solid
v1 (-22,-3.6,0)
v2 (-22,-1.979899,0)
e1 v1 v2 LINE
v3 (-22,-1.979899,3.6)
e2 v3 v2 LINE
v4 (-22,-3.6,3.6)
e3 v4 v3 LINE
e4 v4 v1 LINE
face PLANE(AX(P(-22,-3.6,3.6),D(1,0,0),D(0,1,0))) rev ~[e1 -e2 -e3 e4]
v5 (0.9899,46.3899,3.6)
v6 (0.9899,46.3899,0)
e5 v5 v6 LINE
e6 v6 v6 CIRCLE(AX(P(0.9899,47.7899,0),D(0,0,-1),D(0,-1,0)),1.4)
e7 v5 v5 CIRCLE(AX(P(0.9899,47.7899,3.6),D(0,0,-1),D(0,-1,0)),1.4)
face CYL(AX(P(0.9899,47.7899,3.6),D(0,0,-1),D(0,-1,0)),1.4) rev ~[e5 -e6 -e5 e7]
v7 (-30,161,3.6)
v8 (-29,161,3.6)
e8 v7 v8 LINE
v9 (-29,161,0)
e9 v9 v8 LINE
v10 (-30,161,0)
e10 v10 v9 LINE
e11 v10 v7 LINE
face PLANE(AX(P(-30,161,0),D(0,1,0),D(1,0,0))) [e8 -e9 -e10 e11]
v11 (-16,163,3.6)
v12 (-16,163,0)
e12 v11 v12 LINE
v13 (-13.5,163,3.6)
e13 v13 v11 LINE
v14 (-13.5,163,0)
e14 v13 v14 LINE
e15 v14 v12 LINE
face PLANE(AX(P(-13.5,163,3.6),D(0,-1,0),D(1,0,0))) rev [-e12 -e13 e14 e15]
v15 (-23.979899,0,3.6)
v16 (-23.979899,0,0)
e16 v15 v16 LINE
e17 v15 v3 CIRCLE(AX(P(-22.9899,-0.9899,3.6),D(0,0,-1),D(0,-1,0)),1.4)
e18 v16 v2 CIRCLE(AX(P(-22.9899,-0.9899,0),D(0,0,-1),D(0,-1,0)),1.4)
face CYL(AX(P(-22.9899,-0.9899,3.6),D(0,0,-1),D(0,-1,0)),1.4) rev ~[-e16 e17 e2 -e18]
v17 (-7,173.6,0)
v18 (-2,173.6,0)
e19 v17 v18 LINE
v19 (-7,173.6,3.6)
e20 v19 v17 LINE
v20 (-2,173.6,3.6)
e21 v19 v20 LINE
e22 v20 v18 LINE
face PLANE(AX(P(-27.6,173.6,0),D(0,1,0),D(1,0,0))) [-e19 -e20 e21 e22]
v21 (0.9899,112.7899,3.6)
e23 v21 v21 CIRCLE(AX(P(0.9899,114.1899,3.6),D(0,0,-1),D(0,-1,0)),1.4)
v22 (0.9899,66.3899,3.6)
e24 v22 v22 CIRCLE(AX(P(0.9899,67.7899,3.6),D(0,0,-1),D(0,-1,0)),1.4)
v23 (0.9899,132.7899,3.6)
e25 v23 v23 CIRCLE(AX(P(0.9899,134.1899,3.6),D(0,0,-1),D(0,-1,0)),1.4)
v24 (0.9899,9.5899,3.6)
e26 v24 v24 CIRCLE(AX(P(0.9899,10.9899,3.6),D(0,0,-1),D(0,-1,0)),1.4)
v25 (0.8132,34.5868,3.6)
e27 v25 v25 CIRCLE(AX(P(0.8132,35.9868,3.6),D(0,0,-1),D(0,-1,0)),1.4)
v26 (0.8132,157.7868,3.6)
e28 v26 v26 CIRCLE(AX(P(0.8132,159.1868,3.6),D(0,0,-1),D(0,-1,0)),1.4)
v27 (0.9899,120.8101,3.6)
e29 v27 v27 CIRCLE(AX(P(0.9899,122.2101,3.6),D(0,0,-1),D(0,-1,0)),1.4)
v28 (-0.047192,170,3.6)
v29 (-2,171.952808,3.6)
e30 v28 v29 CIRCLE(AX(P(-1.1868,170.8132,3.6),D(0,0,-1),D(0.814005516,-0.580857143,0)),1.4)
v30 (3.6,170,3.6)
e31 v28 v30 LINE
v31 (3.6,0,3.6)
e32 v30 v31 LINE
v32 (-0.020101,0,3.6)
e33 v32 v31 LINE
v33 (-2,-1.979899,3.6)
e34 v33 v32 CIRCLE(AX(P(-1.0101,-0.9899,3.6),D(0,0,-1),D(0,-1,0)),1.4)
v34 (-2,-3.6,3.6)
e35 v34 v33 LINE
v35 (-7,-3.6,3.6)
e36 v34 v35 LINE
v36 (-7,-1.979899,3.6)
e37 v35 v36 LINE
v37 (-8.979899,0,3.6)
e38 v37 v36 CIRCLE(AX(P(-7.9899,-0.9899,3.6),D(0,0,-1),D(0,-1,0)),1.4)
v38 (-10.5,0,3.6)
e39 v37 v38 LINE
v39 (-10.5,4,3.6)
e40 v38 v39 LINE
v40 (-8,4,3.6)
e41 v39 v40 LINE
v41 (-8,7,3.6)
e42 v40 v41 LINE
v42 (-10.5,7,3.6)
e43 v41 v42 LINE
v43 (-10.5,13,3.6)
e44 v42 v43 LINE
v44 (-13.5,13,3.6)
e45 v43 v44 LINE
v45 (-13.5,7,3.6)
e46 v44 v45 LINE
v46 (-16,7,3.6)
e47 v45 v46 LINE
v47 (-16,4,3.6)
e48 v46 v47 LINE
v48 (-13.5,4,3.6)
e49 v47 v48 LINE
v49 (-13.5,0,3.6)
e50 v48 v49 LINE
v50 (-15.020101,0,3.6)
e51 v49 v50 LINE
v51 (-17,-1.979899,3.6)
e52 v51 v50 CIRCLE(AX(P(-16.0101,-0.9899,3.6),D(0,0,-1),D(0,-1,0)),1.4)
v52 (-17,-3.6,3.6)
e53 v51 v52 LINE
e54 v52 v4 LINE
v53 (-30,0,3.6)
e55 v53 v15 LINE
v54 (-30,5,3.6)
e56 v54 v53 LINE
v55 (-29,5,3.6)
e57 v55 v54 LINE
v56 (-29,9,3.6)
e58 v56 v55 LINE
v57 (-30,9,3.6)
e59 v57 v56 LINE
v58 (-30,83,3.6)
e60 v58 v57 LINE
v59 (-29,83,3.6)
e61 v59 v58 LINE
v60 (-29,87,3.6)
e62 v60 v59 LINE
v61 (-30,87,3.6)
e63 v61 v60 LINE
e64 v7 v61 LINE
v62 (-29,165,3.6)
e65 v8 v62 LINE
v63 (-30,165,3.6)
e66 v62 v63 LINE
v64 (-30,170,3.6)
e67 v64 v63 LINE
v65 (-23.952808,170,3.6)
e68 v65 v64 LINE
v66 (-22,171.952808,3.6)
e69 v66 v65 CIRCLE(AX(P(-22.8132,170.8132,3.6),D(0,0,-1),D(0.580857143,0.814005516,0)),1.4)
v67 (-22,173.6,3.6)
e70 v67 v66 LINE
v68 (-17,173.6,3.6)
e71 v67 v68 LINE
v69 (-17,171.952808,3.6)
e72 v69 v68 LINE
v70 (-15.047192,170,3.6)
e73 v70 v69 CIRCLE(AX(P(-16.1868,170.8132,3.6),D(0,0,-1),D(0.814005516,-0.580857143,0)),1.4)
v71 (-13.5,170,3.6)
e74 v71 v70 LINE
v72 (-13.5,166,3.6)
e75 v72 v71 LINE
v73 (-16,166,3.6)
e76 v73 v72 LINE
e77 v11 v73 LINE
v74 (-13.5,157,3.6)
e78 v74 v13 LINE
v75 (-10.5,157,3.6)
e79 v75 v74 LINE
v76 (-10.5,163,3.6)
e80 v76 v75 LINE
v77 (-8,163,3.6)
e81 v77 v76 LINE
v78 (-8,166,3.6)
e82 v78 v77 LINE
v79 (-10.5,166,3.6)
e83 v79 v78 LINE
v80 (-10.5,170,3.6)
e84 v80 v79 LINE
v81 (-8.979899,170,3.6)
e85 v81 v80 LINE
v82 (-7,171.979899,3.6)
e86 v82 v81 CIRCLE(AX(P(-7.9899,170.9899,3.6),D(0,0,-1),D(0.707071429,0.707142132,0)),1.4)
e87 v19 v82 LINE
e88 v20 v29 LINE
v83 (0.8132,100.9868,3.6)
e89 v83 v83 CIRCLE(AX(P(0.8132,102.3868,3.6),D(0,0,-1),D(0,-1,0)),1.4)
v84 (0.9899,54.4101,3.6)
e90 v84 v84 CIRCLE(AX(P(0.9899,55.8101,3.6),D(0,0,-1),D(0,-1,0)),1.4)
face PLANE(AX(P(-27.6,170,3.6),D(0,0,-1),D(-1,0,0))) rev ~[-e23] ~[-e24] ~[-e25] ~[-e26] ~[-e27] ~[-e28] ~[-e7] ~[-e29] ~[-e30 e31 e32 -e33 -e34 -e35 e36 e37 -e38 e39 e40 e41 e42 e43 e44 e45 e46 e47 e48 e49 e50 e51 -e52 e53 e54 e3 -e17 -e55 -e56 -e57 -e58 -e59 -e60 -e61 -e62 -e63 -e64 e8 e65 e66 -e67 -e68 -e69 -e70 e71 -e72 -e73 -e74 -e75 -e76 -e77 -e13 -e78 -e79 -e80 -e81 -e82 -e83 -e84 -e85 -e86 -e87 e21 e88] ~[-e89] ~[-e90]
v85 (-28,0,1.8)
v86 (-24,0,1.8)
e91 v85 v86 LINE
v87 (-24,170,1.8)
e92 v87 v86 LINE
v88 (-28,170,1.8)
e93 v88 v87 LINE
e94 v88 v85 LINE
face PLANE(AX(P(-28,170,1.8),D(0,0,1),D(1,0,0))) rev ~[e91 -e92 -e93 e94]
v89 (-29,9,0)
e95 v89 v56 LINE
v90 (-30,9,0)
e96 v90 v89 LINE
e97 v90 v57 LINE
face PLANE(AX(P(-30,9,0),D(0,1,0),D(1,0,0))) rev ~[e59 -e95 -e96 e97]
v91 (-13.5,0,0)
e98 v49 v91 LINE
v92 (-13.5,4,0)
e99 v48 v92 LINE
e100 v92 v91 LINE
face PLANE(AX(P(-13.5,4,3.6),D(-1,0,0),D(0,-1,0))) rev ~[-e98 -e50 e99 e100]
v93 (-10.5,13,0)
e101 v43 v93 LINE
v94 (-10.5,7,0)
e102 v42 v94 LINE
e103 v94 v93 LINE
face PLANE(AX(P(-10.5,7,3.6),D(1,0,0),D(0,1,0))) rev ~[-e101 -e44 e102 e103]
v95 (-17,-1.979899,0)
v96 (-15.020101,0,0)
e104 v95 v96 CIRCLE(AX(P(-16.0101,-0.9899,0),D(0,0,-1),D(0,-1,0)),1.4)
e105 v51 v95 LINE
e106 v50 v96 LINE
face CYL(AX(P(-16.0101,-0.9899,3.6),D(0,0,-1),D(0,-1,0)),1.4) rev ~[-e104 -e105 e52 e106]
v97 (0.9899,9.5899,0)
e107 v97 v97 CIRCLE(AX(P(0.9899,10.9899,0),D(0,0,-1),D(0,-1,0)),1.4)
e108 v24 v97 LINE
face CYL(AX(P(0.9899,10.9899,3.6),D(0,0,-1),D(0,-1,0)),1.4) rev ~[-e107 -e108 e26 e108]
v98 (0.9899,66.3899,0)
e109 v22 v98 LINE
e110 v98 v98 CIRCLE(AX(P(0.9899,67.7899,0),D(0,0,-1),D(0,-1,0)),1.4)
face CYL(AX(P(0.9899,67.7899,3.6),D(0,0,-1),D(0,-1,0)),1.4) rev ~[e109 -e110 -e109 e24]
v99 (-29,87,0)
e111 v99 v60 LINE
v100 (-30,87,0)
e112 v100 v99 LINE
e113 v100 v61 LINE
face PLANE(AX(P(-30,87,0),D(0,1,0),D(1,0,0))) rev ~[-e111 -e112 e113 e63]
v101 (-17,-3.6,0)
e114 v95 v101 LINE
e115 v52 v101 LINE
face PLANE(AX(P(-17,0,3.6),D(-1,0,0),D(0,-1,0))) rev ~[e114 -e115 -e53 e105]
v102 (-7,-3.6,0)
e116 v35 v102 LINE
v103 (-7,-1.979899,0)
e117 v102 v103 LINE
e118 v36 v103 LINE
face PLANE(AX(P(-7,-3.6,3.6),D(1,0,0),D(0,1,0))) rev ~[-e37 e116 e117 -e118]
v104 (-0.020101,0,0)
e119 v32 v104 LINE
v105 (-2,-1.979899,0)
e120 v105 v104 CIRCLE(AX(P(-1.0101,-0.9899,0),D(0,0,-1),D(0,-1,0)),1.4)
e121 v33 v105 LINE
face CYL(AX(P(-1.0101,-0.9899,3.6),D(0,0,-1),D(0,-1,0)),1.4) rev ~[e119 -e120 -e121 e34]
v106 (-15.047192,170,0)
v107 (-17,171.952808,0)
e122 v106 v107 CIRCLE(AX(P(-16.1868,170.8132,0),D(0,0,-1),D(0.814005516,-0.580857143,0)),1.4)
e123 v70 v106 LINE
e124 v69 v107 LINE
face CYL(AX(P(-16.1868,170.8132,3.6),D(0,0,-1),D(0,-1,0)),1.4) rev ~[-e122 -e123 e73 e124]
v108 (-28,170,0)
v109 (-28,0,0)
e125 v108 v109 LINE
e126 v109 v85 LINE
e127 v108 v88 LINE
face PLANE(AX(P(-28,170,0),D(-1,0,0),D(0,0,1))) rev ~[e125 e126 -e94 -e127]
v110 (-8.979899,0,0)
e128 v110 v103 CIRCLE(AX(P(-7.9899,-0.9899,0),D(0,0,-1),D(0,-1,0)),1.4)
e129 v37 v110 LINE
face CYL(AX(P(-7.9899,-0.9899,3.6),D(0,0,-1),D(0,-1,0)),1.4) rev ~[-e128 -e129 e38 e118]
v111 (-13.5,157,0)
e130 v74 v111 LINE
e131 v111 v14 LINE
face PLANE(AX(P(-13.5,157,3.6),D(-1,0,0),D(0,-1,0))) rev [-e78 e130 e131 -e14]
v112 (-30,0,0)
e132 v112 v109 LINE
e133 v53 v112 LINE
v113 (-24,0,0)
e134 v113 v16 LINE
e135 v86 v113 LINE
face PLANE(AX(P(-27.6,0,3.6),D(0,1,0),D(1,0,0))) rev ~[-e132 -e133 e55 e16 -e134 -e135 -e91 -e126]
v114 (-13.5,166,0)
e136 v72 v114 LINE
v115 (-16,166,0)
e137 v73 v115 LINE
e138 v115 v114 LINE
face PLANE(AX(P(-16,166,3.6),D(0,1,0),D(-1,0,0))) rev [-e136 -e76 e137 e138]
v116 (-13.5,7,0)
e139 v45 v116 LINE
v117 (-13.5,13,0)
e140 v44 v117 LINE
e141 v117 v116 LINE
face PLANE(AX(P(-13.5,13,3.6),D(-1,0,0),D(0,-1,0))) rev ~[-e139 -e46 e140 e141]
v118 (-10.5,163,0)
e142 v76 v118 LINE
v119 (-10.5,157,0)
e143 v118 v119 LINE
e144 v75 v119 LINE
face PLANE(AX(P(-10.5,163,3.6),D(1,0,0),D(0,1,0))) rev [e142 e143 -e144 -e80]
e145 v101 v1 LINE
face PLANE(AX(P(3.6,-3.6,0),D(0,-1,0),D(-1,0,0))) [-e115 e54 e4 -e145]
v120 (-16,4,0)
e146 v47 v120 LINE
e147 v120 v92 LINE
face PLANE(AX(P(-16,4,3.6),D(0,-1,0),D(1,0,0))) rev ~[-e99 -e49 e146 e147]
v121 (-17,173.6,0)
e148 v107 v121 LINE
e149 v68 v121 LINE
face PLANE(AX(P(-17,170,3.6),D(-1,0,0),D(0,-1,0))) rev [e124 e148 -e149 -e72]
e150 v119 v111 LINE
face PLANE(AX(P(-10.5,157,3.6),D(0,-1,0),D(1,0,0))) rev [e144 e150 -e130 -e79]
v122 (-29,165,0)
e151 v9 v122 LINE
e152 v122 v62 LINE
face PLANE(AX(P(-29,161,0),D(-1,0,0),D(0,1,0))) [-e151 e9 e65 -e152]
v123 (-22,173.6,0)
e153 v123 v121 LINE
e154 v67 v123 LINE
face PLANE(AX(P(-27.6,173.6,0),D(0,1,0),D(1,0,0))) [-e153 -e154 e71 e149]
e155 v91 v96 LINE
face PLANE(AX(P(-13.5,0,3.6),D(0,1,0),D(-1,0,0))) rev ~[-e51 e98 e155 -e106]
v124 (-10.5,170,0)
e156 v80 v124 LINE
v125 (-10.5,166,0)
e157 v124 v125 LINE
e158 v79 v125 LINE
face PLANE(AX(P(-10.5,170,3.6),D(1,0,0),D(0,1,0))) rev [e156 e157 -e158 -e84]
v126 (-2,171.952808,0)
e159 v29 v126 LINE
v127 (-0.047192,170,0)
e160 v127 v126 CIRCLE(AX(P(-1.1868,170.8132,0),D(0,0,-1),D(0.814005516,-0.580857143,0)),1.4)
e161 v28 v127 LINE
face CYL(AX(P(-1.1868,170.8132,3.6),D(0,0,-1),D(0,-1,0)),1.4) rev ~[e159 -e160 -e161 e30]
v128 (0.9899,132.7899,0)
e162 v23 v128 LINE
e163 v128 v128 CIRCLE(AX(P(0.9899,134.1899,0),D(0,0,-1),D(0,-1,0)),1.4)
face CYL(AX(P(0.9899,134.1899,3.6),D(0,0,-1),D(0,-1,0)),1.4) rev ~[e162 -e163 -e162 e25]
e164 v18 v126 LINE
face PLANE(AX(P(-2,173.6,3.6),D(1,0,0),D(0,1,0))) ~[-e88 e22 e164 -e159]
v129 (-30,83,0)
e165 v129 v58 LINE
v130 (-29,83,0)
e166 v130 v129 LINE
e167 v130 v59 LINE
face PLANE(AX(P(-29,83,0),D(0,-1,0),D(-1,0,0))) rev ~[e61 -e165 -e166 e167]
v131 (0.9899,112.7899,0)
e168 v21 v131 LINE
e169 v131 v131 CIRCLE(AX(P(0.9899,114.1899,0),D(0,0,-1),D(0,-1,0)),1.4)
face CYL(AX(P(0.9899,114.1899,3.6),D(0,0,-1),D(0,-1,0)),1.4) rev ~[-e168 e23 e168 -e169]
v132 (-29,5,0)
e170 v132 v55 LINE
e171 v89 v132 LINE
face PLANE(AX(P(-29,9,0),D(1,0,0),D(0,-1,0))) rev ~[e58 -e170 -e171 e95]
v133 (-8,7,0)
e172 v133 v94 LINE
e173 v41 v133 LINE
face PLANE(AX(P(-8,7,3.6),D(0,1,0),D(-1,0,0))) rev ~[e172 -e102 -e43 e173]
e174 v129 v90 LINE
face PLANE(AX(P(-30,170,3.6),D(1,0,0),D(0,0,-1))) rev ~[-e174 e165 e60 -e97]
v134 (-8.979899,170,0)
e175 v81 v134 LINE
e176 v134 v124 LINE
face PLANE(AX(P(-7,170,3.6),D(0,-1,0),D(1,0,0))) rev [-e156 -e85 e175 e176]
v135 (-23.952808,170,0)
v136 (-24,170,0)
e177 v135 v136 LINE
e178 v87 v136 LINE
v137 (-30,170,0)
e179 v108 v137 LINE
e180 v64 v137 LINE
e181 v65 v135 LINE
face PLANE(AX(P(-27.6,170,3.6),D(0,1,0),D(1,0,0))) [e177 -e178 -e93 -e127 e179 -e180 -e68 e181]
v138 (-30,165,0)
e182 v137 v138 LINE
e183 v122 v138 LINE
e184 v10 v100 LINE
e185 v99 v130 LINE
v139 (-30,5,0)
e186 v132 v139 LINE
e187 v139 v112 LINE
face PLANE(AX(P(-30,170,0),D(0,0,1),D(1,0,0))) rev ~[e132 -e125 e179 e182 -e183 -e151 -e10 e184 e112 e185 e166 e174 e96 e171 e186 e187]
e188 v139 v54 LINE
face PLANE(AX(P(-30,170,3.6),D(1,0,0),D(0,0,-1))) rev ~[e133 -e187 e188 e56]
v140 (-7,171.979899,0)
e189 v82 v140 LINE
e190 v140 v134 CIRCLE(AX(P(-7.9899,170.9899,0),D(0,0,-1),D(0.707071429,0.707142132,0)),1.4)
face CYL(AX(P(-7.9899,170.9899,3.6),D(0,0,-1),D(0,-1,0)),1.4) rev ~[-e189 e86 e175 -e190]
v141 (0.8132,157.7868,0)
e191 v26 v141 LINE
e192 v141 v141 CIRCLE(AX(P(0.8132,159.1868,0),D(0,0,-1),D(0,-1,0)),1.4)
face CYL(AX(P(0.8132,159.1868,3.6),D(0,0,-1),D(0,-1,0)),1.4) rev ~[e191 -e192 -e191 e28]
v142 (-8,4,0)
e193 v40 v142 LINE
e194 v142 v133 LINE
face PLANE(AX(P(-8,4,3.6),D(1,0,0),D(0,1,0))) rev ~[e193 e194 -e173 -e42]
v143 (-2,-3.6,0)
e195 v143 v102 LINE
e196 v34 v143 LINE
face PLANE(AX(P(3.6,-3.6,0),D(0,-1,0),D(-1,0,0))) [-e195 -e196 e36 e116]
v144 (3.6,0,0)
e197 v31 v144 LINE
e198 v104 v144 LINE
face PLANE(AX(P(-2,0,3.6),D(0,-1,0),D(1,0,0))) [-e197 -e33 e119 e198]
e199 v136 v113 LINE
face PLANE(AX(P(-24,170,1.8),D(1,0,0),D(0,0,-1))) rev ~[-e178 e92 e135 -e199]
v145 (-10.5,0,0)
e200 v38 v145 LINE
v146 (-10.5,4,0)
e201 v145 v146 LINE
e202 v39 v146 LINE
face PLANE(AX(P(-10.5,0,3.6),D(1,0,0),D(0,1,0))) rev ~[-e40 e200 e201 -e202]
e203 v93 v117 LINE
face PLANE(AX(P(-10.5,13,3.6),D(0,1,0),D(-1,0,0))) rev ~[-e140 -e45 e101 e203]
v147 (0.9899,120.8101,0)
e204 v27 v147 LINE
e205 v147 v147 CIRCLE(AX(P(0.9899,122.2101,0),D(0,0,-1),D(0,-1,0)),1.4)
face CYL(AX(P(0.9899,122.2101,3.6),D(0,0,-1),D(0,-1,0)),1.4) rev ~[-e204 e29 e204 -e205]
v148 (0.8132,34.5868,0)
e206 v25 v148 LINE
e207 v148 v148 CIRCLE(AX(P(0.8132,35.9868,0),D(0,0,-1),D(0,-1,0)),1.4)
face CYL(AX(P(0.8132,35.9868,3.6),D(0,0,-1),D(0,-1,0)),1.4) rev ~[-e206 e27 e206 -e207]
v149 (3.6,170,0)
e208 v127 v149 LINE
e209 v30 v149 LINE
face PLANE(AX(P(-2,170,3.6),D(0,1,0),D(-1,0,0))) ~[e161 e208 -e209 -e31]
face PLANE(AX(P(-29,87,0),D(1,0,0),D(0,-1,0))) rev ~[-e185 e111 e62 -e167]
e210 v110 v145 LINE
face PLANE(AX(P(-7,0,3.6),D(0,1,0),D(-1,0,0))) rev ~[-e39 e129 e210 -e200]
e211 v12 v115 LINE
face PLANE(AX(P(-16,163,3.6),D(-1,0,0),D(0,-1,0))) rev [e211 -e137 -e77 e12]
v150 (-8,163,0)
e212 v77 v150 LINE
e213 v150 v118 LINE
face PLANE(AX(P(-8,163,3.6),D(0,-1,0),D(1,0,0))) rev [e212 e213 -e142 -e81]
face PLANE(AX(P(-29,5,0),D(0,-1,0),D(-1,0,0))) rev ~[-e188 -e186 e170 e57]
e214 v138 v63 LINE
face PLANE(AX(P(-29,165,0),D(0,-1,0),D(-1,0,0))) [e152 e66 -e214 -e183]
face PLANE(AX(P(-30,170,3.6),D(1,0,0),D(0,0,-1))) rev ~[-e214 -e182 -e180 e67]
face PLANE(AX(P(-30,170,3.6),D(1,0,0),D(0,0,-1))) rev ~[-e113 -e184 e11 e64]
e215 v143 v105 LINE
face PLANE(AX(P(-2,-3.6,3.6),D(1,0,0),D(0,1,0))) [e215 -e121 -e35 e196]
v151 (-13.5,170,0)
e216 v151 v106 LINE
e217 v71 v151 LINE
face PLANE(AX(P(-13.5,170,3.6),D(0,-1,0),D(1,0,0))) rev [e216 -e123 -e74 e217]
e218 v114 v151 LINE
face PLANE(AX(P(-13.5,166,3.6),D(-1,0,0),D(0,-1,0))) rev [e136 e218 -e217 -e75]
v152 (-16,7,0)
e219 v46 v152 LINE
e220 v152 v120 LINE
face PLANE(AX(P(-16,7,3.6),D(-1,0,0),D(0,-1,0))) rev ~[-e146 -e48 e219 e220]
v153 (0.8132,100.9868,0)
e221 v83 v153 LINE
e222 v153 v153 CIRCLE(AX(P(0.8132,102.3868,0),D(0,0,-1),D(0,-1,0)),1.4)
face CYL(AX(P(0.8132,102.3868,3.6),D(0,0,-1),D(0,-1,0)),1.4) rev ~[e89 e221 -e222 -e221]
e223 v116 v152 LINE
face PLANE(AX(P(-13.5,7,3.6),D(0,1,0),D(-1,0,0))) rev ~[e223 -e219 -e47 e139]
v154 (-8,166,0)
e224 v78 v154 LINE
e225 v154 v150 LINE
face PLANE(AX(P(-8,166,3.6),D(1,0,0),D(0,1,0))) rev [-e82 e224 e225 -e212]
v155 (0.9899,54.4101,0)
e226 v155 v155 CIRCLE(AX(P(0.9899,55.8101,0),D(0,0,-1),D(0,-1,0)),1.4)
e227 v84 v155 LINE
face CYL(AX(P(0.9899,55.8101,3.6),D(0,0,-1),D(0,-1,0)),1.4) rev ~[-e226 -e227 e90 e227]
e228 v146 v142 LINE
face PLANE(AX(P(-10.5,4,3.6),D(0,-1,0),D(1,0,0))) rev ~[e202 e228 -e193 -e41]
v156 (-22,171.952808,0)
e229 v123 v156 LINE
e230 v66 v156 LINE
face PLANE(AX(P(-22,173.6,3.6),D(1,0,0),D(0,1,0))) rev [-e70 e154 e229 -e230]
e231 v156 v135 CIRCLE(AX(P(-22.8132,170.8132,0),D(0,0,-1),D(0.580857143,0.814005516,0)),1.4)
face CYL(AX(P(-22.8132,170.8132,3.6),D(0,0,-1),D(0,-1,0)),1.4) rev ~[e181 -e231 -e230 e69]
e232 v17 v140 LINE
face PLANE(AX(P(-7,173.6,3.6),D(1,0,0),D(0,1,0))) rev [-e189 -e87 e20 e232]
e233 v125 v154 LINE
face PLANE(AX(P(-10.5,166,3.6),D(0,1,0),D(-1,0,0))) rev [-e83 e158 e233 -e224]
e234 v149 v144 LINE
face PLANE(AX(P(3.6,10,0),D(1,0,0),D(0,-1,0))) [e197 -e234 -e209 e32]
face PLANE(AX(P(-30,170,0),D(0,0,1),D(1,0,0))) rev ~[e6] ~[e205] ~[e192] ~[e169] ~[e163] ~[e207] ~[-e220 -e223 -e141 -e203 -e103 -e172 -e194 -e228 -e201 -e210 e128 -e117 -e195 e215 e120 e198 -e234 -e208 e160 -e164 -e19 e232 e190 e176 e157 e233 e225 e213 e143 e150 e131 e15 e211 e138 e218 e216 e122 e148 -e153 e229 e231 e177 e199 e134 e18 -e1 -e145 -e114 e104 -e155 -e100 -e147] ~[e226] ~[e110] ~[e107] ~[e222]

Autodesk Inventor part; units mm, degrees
ref_plane "YZ Plane" through (0, 0, 0) normal (1, 0, 0) x (0, 1, 0)
ref_plane "XZ Plane" through (0, 0, 0) normal (0, 1, 0) x (-1, 0, 0)
ref_plane "XY Plane" through (0, 0, 0) normal (0, 0, 1) x (1, 0, 0)
ref_plane "Work Plane1" through (0, 0, 0) normal (0, 0, 1) x (1, 0, 0)
sketch "Sketch1" plane through (0, 0, 0) normal (0, 0, 1) x (1, 0, 0)
  line L0 (0, 0) -> (0, 170) projected
  line L1 (0, 170) -> (-24, 170) projected
  line L2 (-24, 0) -> (-24, 170) projected
  line L3 (0, 0) -> (-24, 0) projected
  line L4 (-27.6, 173.6) -> (3.6, 173.6)
  line L5 (3.6, 173.6) -> (3.6, -3.6)
  line L6 (3.6, -3.6) -> (-27.6, -3.6)
  line L7 (-27.6, -3.6) -> (-27.6, 173.6)
  line L8 (3.6, 10) -> (3.6, -1.8) projected
  line L9 (0, 10) -> (3.6, 10) projected
  line L10 (0, 0) -> (0, 10) projected
  line L11 (0, -1.8) -> (3.6, -1.8) projected
  line L12 (3.6, 46.8) -> (3.6, 36.8) projected
  line L13 (0, 36.8) -> (0, 46.8) projected
  line L14 (3.6, 66.8) -> (3.6, 56.8) projected
  line L15 (0, 56.8) -> (0, 66.8) projected
  line L16 (3.6, 113.2) -> (3.6, 103.2) projected
  line L17 (0, 103.2) -> (0, 113.2) projected
  line L18 (3.6, 133.2) -> (3.6, 123.2) projected
  line L19 (0, 123.2) -> (0, 133.2) projected
  line L20 (3.6, 170) -> (3.6, 160)
  line L21 (0, 170) -> (3.6, 170)
  line L22 (0, 160) -> (0, 170)
  line L23 (0, 160) -> (3.6, 160)
  line L24 (0, 46.8) -> (3.6, 46.8) projected
  line L25 (0, 36.8) -> (3.6, 36.8) projected
  line L26 (0, 66.8) -> (3.6, 66.8) projected
  line L27 (0, 56.8) -> (3.6, 56.8) projected
  line L28 (0, 113.2) -> (3.6, 113.2) projected
  line L29 (0, 103.2) -> (3.6, 103.2) projected
  line L30 (0, 133.2) -> (3.6, 133.2) projected
  line L31 (0, 123.2) -> (3.6, 123.2) projected
  point P0 (3.6, 131.2201)
  point P1 (3.6, 125.1799)
  point P2 (0, 125.1799)
  point P3 (0, 131.2201)
  dimension "d0" = 3.6
extrude "Extrusion1" add sketch "Sketch1" along normal blind 3.6
sketch "Sketch2" plane through (0, 0, 3.6) normal (0, 0, 1) x (1, 0, 0)
  line L0 (3.6, -3.6) -> (3.6, 173.6) projected
  line L1 (3.6, 173.6) -> (-27.6, 173.6) projected
  line L2 (-27.6, 173.6) -> (-27.6, -3.6) projected
  line L3 (-27.6, -3.6) -> (3.6, -3.6) projected
  line L4 (-17, -3.6) -> (-7, -3.6)
  line L5 (-7, -3.6) -> (-7, 0)
  line L6 (-7, 0) -> (-17, 0)
  line L7 (-17, 0) -> (-17, -3.6)
  line L8 (-17, -3.6) -> (-22, -3.6)
  line L9 (-22, -3.6) -> (-22, 0)
  line L10 (-22, 0) -> (-17, 0)
  line L11 (-17, 0) -> (-17, -3.6)
  line L12 (-7, -3.6) -> (-2, -3.6)
  line L13 (-2, -3.6) -> (-2, 0)
  line L14 (-2, 0) -> (-7, 0)
  line L15 (-7, 0) -> (-7, -3.6)
  line L16 (-22, 0) -> (-27.6, 0)
  line L17 (-27.6, 0) -> (-27.6, -3.6)
  line L18 (-27.6, -3.6) -> (-22, -3.6)
  line L19 (-22, -3.6) -> (-22, 0)
  line L20 (-27.6, -3.6) -> (3.6, -3.6) projected
  line L21 (-2, 0) -> (3.6, 0)
  line L22 (3.6, 0) -> (3.6, -3.6)
  line L23 (3.6, -3.6) -> (-2, -3.6)
  line L24 (-2, -3.6) -> (-2, 0)
  line L25 (-13.5, -13) -> (-10.5, -13)
  line L26 (-10.5, -13) -> (-10.5, 13)
  line L27 (-10.5, 13) -> (-13.5, 13)
  line L28 (-13.5, 13) -> (-13.5, -13)
  line L29 (-13.5, -13) -> (-10.5, 13) construction
  line L30 (-10.5, -13) -> (-13.5, 13) construction
  line L31 (-16, 4) -> (-8, 4)
  line L32 (-8, 4) -> (-8, 7)
  line L33 (-8, 7) -> (-16, 7)
  line L34 (-16, 7) -> (-16, 4)
  line L35 (-16, 4) -> (-8, 7) construction
  line L36 (-8, 4) -> (-16, 7) construction
  line L37 (-12, 13) -> (-12, 0) construction
  point P0 (0, 0)
  point P1 (-12, 5.5)
  point P2 (-12, 5.5)
  point P3 (-13.5, 4)
  point P4 (-13.5, 0)
  point P5 (-10.5, 0)
  point P6 (-10.5, 4)
  point P7 (-10.5, 7)
  point P8 (-13.5, 7)
  dimension "d3" = 10
  dimension "d4" = 3.6
  dimension "d5" = 10.6
  dimension "d7" = 5
  dimension "d8" = 5
  dimension "d9" = 3
  dimension "d10" = 26
  dimension "d11" = 8
  dimension "d12" = 3
  dimension "d14" = 4
extrude "Extrusion2" cut sketch "Sketch2" against normal blind 3.6 contours L3 L13 L21 L0 | L3 L26 L6 L5 | L3 L28 L6 L26 | L16 L9 L3 L2 | L6 L28 L31 L26 | L3 L7 L6 L28 | L31 L28 L33 L26 | L26 L33 L32 L31 | L31 L34 L33 L28 | L33 L28 L27 L26
ref_plane "Work Plane2" through (-22, 85, 0) normal (0, -1, 0) x (1, 0, 0)
mirror "Mirror1" about plane through (-22, 85, 0) normal (0, -1, 0) of "Extrusion2"
sketch "Sketch3" plane through (-27.6, 170, 3.6) normal (0, 1, 0) x (1, 0, 0)
  line L0 (27.6, 3.6) -> (27.6, 73.6) projected
  line L1 (27.6, 73.6) -> (3.6, 73.6) projected
  line L2 (3.6, 3.6) -> (3.6, 73.6) projected
  line L3 (27.6, 3.6) -> (3.6, 3.6) projected
  line L4 (5.6, 0) -> (0, 0) projected
  line L5 (5.6, 0) -> (5.6, 3.6) projected
  line L6 (0, 3.6) -> (5.6, 3.6) projected
  line L7 (0, 0) -> (0, 3.6) projected
  line L8 (0, 3.6) -> (0, 0) projected
  line L9 (3.6, 3.6) -> (0, 3.6)
  line L10 (0, 3.6) -> (0, 1.8)
  line L11 (0, 1.8) -> (3.6, 1.8)
  line L12 (3.6, 1.8) -> (3.6, 3.6)
  line L13 (0, 0) -> (-2.4, 0)
  line L14 (-2.4, 0) -> (-2.4, 3.6)
  line L15 (-2.4, 3.6) -> (0, 3.6)
  line L16 (0, 3.6) -> (0, 0)
  dimension "d17" = 2.4
extrude "Extrusion3" add sketch "Sketch3" against normal up to surface (170 mm away) contours L7 L13 L14 L15
sketch "Sketch4" plane through (-22, 170, 3.6) normal (0, 1, 0) x (1, 0, 0)
  line L0 (-8, 0) -> (0, 0) projected
  line L1 (0, 0) -> (0, 3.6) projected
  line L2 (-8, 3.6) -> (0, 3.6) projected
  line L3 (-8, 3.6) -> (-8, 0) projected
  line L4 (22, 3.6) -> (22, 73.6) projected
  line L5 (22, 73.6) -> (-2, 73.6) projected
  line L6 (-2, 3.6) -> (-2, 73.6) projected
  line L7 (22, 3.6) -> (-2, 3.6) projected
  line L8 (-2, 3.6) -> (-6, 3.6)
  line L9 (-6, 3.6) -> (-6, 1.8)
  line L10 (-6, 1.8) -> (-2, 1.8)
  line L11 (-2, 1.8) -> (-2, 3.6)
  point P0 (-6, 3.6)
  dimension "d20" = 4
  dimension "d21" = 1.8
extrude "Extrusion4" cut sketch "Sketch4" against normal through all contours L2 L11 L10 L9
sketch "Sketch5" plane through (0, 0, 0) normal (0, 0, -1) x (-1, 0, 0)
  line L0 (28, 170) -> (28, 0) projected
  line L1 (28, 0) -> (30, 0) projected
  line L2 (30, 170) -> (30, 0) projected
  line L3 (30, 170) -> (28, 170) projected
  line L4 (29, 83) -> (31, 83)
  line L5 (31, 83) -> (31, 87)
  line L6 (31, 87) -> (29, 87)
  line L7 (29, 87) -> (29, 83)
  line L8 (30, 170) -> (30, 0) projected
  line L9 (29, 83) -> (31, 87) construction
  line L10 (31, 83) -> (29, 87) construction
  line L11 (29, 165) -> (31, 165)
  line L12 (31, 165) -> (31, 161)
  line L13 (31, 161) -> (29, 161)
  line L14 (29, 161) -> (29, 165)
  line L15 (30, 170) -> (30, 0) projected
  line L16 (29, 165) -> (31, 161) construction
  line L17 (31, 165) -> (29, 161) construction
  line L18 (30, 85) -> (40.6182, 85) construction
  line L19 (30, 0) -> (28, 0)
  line L20 (29, 5) -> (31, 5)
  line L21 (31, 5) -> (31, 9)
  line L22 (31, 9) -> (29, 9)
  line L23 (29, 9) -> (29, 5)
  line L24 (29, 5) -> (31, 9) construction
  line L25 (31, 5) -> (29, 9) construction
  point P0 (0, 0)
  point P1 (30, 163)
  point P2 (30, 7)
  point P3 (30, 5)
  point P4 (30, 9)
  point P5 (30, 83)
  point P6 (30, 87)
  point P7 (30, 161)
  point P8 (30, 165)
  dimension "d24" = 2
  dimension "d25" = 4
  dimension "d26" = 4
  dimension "d27" = 5
extrude "Extrusion5" cut sketch "Sketch5" against normal through all contours L2 L13 L14 L11 | L20 L23 L22 L2 | L2 L4 L7 L6
sketch "Sketch6" plane through (0, 0, 3.6) normal (0, 0, 1) x (1, 0, 0)
  line L0 (-29, 5) -> (-30, 5) projected
  line L1 (-30, 5) -> (-30, 0) projected
  line L2 (-22, 0) -> (-30, 0) projected
  line L3 (-22, 0) -> (-22, -3.6) projected
  line L4 (-22, -3.6) -> (-17, -3.6) projected
  line L5 (-17, -3.6) -> (-17, 0) projected
  line L6 (-17, 0) -> (-13.5, 0) projected
  line L7 (-13.5, 0) -> (-13.5, 4) projected
  line L8 (-13.5, 4) -> (-16, 4) projected
  line L9 (-16, 4) -> (-16, 7) projected
  line L10 (-16, 7) -> (-13.5, 7) projected
  line L11 (-13.5, 7) -> (-13.5, 13) projected
  line L12 (-13.5, 13) -> (-10.5, 13) projected
  line L13 (-10.5, 13) -> (-10.5, 7) projected
  line L14 (-10.5, 7) -> (-8, 7) projected
  line L15 (-8, 7) -> (-8, 4) projected
  line L16 (-8, 4) -> (-10.5, 4) projected
  line L17 (-10.5, 4) -> (-10.5, 0) projected
  line L18 (-10.5, 0) -> (-7, 0) projected
  line L19 (-7, 0) -> (-7, -3.6) projected
  line L20 (-7, -3.6) -> (-2, -3.6) projected
  line L21 (-2, -3.6) -> (-2, 0) projected
  line L22 (-2, 0) -> (3.6, 0) projected
  line L23 (3.6, 0) -> (3.6, 170) projected
  line L24 (3.6, 170) -> (-2, 170) projected
  line L25 (-2, 170) -> (-2, 173.6) projected
  line L26 (-2, 173.6) -> (-7, 173.6) projected
  line L27 (-7, 173.6) -> (-7, 170) projected
  line L28 (-7, 170) -> (-10.5, 170) projected
  line L29 (-10.5, 170) -> (-10.5, 166) projected
  line L30 (-10.5, 166) -> (-8, 166) projected
  line L31 (-8, 166) -> (-8, 163) projected
  line L32 (-8, 163) -> (-10.5, 163) projected
  line L33 (-10.5, 163) -> (-10.5, 157) projected
  line L34 (-10.5, 157) -> (-13.5, 157) projected
  line L35 (-13.5, 157) -> (-13.5, 163) projected
  line L36 (-13.5, 163) -> (-16, 163) projected
  line L37 (-16, 163) -> (-16, 166) projected
  line L38 (-16, 166) -> (-13.5, 166) projected
  line L39 (-13.5, 166) -> (-13.5, 170) projected
  line L40 (-13.5, 170) -> (-17, 170) projected
  line L41 (-17, 170) -> (-17, 173.6) projected
  line L42 (-17, 173.6) -> (-22, 173.6) projected
  line L43 (-22, 173.6) -> (-22, 170) projected
  line L44 (-30, 170) -> (-22, 170) projected
  line L45 (-30, 170) -> (-30, 165) projected
  line L46 (-30, 165) -> (-29, 165) projected
  line L47 (-29, 165) -> (-29, 161) projected
  line L48 (-29, 161) -> (-30, 161) projected
  line L49 (-30, 161) -> (-30, 87) projected
  line L50 (-30, 87) -> (-29, 87) projected
  line L51 (-29, 87) -> (-29, 83) projected
  line L52 (-29, 83) -> (-30, 83) projected
  line L53 (-30, 83) -> (-30, 9) projected
  line L54 (-30, 9) -> (-29, 9) projected
  line L55 (-29, 9) -> (-29, 5) projected
  circle A0 centre (-28.3256, -9.1766) radius 1.4 construction
  line L56 (-29.3156, -10.1665) -> (-27.3357, -10.1665) construction
  line L57 (-27.3357, -10.1665) -> (-27.3357, -8.1866) construction
  line L58 (-27.3357, -8.1866) -> (-29.3156, -8.1866) construction
  line L59 (-29.3156, -8.1866) -> (-29.3156, -10.1665) construction
  line L60 (-29.3156, -10.1665) -> (-27.3357, -8.1866) construction
  line L61 (-27.3357, -10.1665) -> (-29.3156, -8.1866) construction
  line L62 (-21.0101, 0.9899) -> (-22.9899, 0.9899)
  line L63 (-22.9899, 0.9899) -> (-22.9899, -0.9899)
  line L64 (-22.9899, -0.9899) -> (-21.0101, -0.9899)
  line L65 (-21.0101, -0.9899) -> (-21.0101, 0.9899)
  line L66 (-22, 0) -> (-24, 0) projected
  line L67 (-21.0101, 0.9899) -> (-22.9899, -0.9899) construction
  line L68 (-22.9899, 0.9899) -> (-21.0101, -0.9899) construction
  line L69 (-17.9899, 0.9899) -> (-16.0101, 0.9899)
  line L70 (-16.0101, 0.9899) -> (-16.0101, -0.9899)
  line L71 (-16.0101, -0.9899) -> (-17.9899, -0.9899)
  line L72 (-17.9899, -0.9899) -> (-17.9899, 0.9899)
  line L73 (-17, 0) -> (-17, -3.6) projected
  line L74 (-17.9899, 0.9899) -> (-16.0101, -0.9899) construction
  line L75 (-16.0101, 0.9899) -> (-17.9899, -0.9899) construction
  line L76 (-6.0101, 0.9899) -> (-7.9899, 0.9899)
  line L77 (-7.9899, 0.9899) -> (-7.9899, -0.9899)
  line L78 (-7.9899, -0.9899) -> (-6.0101, -0.9899)
  line L79 (-6.0101, -0.9899) -> (-6.0101, 0.9899)
  line L80 (-6.0101, 0.9899) -> (-7.9899, -0.9899) construction
  line L81 (-7.9899, 0.9899) -> (-6.0101, -0.9899) construction
  line L82 (-2.9899, 0.9899) -> (-1.0101, 0.9899)
  line L83 (-1.0101, 0.9899) -> (-1.0101, -0.9899)
  line L84 (-1.0101, -0.9899) -> (-2.9899, -0.9899)
  line L85 (-2.9899, -0.9899) -> (-2.9899, 0.9899)
  line L86 (3.6, 0) -> (-2, 0) projected
  line L87 (-2.9899, 0.9899) -> (-1.0101, -0.9899) construction
  line L88 (-1.0101, 0.9899) -> (-2.9899, -0.9899) construction
  line L89 (-0.9899, 9.0101) -> (0.9899, 9.0101)
  line L90 (0.9899, 9.0101) -> (0.9899, 10.9899)
  line L91 (0.9899, 10.9899) -> (-0.9899, 10.9899)
  line L92 (-0.9899, 10.9899) -> (-0.9899, 9.0101)
  line L93 (-0.9899, 9.0101) -> (0.9899, 10.9899) construction
  line L94 (0.9899, 9.0101) -> (-0.9899, 10.9899) construction
  line L95 (-0.9899, 37.7899) -> (0.9899, 37.7899)
  line L96 (0.9899, 37.7899) -> (0.9899, 35.8101)
  line L97 (0.9899, 35.8101) -> (-0.9899, 35.8101)
  line L98 (-0.9899, 35.8101) -> (-0.9899, 37.7899)
  line L99 (-0.9899, 37.7899) -> (0.9899, 35.8101) construction
  line L100 (0.9899, 37.7899) -> (-0.9899, 35.8101) construction
  line L101 (-0.9899, 65.8101) -> (0.9899, 65.8101)
  line L102 (0.9899, 65.8101) -> (0.9899, 67.7899)
  line L103 (0.9899, 67.7899) -> (-0.9899, 67.7899)
  line L104 (-0.9899, 67.7899) -> (-0.9899, 65.8101)
  line L105 (0, 66.8) -> (0, 103.2) projected
  line L106 (-0.9899, 65.8101) -> (0.9899, 67.7899) construction
  line L107 (0.9899, 65.8101) -> (-0.9899, 67.7899) construction
  line L108 (-0.9899, 104.1899) -> (0.9899, 104.1899)
  line L109 (0.9899, 104.1899) -> (0.9899, 102.2101)
  line L110 (0.9899, 102.2101) -> (-0.9899, 102.2101)
  line L111 (-0.9899, 102.2101) -> (-0.9899, 104.1899)
  line L112 (-0.9899, 104.1899) -> (0.9899, 102.2101) construction
  line L113 (0.9899, 104.1899) -> (-0.9899, 102.2101) construction
  line L114 (-0.9899, 112.2101) -> (0.9899, 112.2101)
  line L115 (0.9899, 112.2101) -> (0.9899, 114.1899)
  line L116 (0.9899, 114.1899) -> (-0.9899, 114.1899)
  line L117 (-0.9899, 114.1899) -> (-0.9899, 112.2101)
  line L118 (3.6, 113.2) -> (0, 113.2) projected
  line L119 (-0.9899, 112.2101) -> (0.9899, 114.1899) construction
  line L120 (0.9899, 112.2101) -> (-0.9899, 114.1899) construction
  line L121 (-0.9899, 124.1899) -> (0.9899, 124.1899)
  line L122 (0.9899, 124.1899) -> (0.9899, 122.2101)
  line L123 (0.9899, 122.2101) -> (-0.9899, 122.2101)
  line L124 (-0.9899, 122.2101) -> (-0.9899, 124.1899)
  line L125 (0, 123.2) -> (3.6, 123.2) projected
  line L126 (-0.9899, 124.1899) -> (0.9899, 122.2101) construction
  line L127 (0.9899, 124.1899) -> (-0.9899, 122.2101) construction
  line L128 (-0.9899, 132.2101) -> (0.9899, 132.2101)
  line L129 (0.9899, 132.2101) -> (0.9899, 134.1899)
  line L130 (0.9899, 134.1899) -> (-0.9899, 134.1899)
  line L131 (-0.9899, 134.1899) -> (-0.9899, 132.2101)
  line L132 (3.6, 133.2) -> (0, 133.2) projected
  line L133 (-0.9899, 132.2101) -> (0.9899, 134.1899) construction
  line L134 (0.9899, 132.2101) -> (-0.9899, 134.1899) construction
  line L135 (-0.9899, 160.9899) -> (0.9899, 160.9899)
  line L136 (0.9899, 160.9899) -> (0.9899, 159.0101)
  line L137 (0.9899, 159.0101) -> (-0.9899, 159.0101)
  line L138 (-0.9899, 159.0101) -> (-0.9899, 160.9899)
  line L139 (0, 133.2) -> (0, 160) projected
  line L140 (-0.9899, 160.9899) -> (0.9899, 159.0101) construction
  line L141 (0.9899, 160.9899) -> (-0.9899, 159.0101) construction
  line L142 (-7.9899, 170.9899) -> (-6.0101, 170.9899)
  line L143 (-6.0101, 170.9899) -> (-6.0101, 169.0101)
  line L144 (-6.0101, 169.0101) -> (-7.9899, 169.0101)
  line L145 (-7.9899, 169.0101) -> (-7.9899, 170.9899)
  line L146 (-7.9899, 170.9899) -> (-6.0101, 169.0101) construction
  line L147 (-6.0101, 170.9899) -> (-7.9899, 169.0101) construction
  line L148 (-1.1868, 170.8132) -> (-2.8132, 170.8132)
  line L149 (-2.8132, 170.8132) -> (-2.8132, 169.1868)
  line L150 (-2.8132, 169.1868) -> (-1.1868, 169.1868)
  line L151 (-1.1868, 169.1868) -> (-1.1868, 170.8132)
  line L152 (-1.1868, 170.8132) -> (-2.8132, 169.1868) construction
  line L153 (-2.8132, 170.8132) -> (-1.1868, 169.1868) construction
  line L154 (-17.8132, 170.8132) -> (-16.1868, 170.8132)
  line L155 (-16.1868, 170.8132) -> (-16.1868, 169.1868)
  line L156 (-16.1868, 169.1868) -> (-17.8132, 169.1868)
  line L157 (-17.8132, 169.1868) -> (-17.8132, 170.8132)
  line L158 (-17.8132, 170.8132) -> (-16.1868, 169.1868) construction
  line L159 (-16.1868, 170.8132) -> (-17.8132, 169.1868) construction
  line L160 (-22.8132, 170.8132) -> (-21.1868, 170.8132)
  line L161 (-21.1868, 170.8132) -> (-21.1868, 169.1868)
  line L162 (-21.1868, 169.1868) -> (-22.8132, 169.1868)
  line L163 (-22.8132, 169.1868) -> (-22.8132, 170.8132)
  line L164 (-22.8132, 170.8132) -> (-21.1868, 169.1868) construction
  line L165 (-21.1868, 170.8132) -> (-22.8132, 169.1868) construction
  line L166 (-0.9899, 57.7899) -> (0.9899, 57.7899)
  line L167 (0.9899, 57.7899) -> (0.9899, 55.8101)
  line L168 (0.9899, 55.8101) -> (-0.9899, 55.8101)
  line L169 (-0.9899, 55.8101) -> (-0.9899, 57.7899)
  line L170 (-0.9899, 57.7899) -> (0.9899, 55.8101) construction
  line L171 (0.9899, 57.7899) -> (-0.9899, 55.8101) construction
  line L172 (-0.9899, 45.8101) -> (0.9899, 45.8101)
  line L173 (0.9899, 45.8101) -> (0.9899, 47.7899)
  line L174 (0.9899, 47.7899) -> (-0.9899, 47.7899)
  line L175 (-0.9899, 47.7899) -> (-0.9899, 45.8101)
  line L176 (-0.9899, 45.8101) -> (0.9899, 47.7899) construction
  line L177 (0.9899, 45.8101) -> (-0.9899, 47.7899) construction
  point P0 (0, 0)
  point P1 (0, 10)
  point P2 (0, 36.8)
  point P3 (0, 46.8)
  point P4 (0, 56.8)
  point P5 (0.8132, 159.1868)
  point P6 (0.8132, 102.3868)
  point P7 (0.8132, 35.9868)
  dimension "d30" = 2.8
  dimension "d32" = 1.9799
  dimension "d33" = 1.9799
hole "Hole1" at (-28.3256, -9.1766, 3.6) at (-22.8132, 170.8132, 3.6) at (-16.1868, 170.8132, 3.6) at (-7.9899, 170.9899, 3.6) at (-1.1868, 170.8132, 3.6) at (0.8132, 159.1868, 3.6) at (0.9899, 134.1899, 3.6) at (0.9899, 122.2101, 3.6) at (0.9899, 114.1899, 3.6) at (0.8132, 102.3868, 3.6) at (0.9899, 67.7899, 3.6) at (0.9899, 55.8101, 3.6) at (0.9899, 47.7899, 3.6) at (0.8132, 35.9868, 3.6) at (0.9899, 10.9899, 3.6) at (-1.0101, -0.9899, 3.6) at (-7.9899, -0.9899, 3.6) at (-16.0101, -0.9899, 3.6) at (-22.9899, -0.9899, 3.6) direction (0, 0, -1) diameter 2.8 end through all
equation "\"d0\" = wood_thickness"
equation "\"d1\" = wood_thickness"
equation "\"d3\" = tabs_width"
equation "\"d4\" = wood_thickness"
equation "\"d7\" = 0.5 * tabs_width"
equation "\"d8\" = 0.5 * tabs_width"
equation "\"d9\" = screw_diameter"
equation "\"d10\" = 2 * screw_depth"
equation "\"d11\" = screw_nut_width"
equation "\"d12\" = screw_nut_thickness"
equation "\"d20\" = wood_thickness + extra_for_sliding_cover"
equation "\"d21\" = deep_for_sliding_cover"
equation "\"d26\" = d25"
equation "\"d30\" = bit_diameter"
equation "\"d33\" = d32"
equation "\"d34\" = bit_diameter"
equation "\"wood_thickness\" = 3.6"
equation "\"tabs_width\" = 10"
equation "\"screw_diameter\" = 3"
equation "\"screw_depth\" = 13"
equation "\"screw_nut_width\" = 8"
equation "\"screw_nut_thickness\" = 3"
equation "\"extra_for_sliding_cover\" = 0.4"
equation "\"deep_for_sliding_cover\" = 1.8"
equation "\"bit_diameter\" = 2.8"
properties part number "side_bottom"
